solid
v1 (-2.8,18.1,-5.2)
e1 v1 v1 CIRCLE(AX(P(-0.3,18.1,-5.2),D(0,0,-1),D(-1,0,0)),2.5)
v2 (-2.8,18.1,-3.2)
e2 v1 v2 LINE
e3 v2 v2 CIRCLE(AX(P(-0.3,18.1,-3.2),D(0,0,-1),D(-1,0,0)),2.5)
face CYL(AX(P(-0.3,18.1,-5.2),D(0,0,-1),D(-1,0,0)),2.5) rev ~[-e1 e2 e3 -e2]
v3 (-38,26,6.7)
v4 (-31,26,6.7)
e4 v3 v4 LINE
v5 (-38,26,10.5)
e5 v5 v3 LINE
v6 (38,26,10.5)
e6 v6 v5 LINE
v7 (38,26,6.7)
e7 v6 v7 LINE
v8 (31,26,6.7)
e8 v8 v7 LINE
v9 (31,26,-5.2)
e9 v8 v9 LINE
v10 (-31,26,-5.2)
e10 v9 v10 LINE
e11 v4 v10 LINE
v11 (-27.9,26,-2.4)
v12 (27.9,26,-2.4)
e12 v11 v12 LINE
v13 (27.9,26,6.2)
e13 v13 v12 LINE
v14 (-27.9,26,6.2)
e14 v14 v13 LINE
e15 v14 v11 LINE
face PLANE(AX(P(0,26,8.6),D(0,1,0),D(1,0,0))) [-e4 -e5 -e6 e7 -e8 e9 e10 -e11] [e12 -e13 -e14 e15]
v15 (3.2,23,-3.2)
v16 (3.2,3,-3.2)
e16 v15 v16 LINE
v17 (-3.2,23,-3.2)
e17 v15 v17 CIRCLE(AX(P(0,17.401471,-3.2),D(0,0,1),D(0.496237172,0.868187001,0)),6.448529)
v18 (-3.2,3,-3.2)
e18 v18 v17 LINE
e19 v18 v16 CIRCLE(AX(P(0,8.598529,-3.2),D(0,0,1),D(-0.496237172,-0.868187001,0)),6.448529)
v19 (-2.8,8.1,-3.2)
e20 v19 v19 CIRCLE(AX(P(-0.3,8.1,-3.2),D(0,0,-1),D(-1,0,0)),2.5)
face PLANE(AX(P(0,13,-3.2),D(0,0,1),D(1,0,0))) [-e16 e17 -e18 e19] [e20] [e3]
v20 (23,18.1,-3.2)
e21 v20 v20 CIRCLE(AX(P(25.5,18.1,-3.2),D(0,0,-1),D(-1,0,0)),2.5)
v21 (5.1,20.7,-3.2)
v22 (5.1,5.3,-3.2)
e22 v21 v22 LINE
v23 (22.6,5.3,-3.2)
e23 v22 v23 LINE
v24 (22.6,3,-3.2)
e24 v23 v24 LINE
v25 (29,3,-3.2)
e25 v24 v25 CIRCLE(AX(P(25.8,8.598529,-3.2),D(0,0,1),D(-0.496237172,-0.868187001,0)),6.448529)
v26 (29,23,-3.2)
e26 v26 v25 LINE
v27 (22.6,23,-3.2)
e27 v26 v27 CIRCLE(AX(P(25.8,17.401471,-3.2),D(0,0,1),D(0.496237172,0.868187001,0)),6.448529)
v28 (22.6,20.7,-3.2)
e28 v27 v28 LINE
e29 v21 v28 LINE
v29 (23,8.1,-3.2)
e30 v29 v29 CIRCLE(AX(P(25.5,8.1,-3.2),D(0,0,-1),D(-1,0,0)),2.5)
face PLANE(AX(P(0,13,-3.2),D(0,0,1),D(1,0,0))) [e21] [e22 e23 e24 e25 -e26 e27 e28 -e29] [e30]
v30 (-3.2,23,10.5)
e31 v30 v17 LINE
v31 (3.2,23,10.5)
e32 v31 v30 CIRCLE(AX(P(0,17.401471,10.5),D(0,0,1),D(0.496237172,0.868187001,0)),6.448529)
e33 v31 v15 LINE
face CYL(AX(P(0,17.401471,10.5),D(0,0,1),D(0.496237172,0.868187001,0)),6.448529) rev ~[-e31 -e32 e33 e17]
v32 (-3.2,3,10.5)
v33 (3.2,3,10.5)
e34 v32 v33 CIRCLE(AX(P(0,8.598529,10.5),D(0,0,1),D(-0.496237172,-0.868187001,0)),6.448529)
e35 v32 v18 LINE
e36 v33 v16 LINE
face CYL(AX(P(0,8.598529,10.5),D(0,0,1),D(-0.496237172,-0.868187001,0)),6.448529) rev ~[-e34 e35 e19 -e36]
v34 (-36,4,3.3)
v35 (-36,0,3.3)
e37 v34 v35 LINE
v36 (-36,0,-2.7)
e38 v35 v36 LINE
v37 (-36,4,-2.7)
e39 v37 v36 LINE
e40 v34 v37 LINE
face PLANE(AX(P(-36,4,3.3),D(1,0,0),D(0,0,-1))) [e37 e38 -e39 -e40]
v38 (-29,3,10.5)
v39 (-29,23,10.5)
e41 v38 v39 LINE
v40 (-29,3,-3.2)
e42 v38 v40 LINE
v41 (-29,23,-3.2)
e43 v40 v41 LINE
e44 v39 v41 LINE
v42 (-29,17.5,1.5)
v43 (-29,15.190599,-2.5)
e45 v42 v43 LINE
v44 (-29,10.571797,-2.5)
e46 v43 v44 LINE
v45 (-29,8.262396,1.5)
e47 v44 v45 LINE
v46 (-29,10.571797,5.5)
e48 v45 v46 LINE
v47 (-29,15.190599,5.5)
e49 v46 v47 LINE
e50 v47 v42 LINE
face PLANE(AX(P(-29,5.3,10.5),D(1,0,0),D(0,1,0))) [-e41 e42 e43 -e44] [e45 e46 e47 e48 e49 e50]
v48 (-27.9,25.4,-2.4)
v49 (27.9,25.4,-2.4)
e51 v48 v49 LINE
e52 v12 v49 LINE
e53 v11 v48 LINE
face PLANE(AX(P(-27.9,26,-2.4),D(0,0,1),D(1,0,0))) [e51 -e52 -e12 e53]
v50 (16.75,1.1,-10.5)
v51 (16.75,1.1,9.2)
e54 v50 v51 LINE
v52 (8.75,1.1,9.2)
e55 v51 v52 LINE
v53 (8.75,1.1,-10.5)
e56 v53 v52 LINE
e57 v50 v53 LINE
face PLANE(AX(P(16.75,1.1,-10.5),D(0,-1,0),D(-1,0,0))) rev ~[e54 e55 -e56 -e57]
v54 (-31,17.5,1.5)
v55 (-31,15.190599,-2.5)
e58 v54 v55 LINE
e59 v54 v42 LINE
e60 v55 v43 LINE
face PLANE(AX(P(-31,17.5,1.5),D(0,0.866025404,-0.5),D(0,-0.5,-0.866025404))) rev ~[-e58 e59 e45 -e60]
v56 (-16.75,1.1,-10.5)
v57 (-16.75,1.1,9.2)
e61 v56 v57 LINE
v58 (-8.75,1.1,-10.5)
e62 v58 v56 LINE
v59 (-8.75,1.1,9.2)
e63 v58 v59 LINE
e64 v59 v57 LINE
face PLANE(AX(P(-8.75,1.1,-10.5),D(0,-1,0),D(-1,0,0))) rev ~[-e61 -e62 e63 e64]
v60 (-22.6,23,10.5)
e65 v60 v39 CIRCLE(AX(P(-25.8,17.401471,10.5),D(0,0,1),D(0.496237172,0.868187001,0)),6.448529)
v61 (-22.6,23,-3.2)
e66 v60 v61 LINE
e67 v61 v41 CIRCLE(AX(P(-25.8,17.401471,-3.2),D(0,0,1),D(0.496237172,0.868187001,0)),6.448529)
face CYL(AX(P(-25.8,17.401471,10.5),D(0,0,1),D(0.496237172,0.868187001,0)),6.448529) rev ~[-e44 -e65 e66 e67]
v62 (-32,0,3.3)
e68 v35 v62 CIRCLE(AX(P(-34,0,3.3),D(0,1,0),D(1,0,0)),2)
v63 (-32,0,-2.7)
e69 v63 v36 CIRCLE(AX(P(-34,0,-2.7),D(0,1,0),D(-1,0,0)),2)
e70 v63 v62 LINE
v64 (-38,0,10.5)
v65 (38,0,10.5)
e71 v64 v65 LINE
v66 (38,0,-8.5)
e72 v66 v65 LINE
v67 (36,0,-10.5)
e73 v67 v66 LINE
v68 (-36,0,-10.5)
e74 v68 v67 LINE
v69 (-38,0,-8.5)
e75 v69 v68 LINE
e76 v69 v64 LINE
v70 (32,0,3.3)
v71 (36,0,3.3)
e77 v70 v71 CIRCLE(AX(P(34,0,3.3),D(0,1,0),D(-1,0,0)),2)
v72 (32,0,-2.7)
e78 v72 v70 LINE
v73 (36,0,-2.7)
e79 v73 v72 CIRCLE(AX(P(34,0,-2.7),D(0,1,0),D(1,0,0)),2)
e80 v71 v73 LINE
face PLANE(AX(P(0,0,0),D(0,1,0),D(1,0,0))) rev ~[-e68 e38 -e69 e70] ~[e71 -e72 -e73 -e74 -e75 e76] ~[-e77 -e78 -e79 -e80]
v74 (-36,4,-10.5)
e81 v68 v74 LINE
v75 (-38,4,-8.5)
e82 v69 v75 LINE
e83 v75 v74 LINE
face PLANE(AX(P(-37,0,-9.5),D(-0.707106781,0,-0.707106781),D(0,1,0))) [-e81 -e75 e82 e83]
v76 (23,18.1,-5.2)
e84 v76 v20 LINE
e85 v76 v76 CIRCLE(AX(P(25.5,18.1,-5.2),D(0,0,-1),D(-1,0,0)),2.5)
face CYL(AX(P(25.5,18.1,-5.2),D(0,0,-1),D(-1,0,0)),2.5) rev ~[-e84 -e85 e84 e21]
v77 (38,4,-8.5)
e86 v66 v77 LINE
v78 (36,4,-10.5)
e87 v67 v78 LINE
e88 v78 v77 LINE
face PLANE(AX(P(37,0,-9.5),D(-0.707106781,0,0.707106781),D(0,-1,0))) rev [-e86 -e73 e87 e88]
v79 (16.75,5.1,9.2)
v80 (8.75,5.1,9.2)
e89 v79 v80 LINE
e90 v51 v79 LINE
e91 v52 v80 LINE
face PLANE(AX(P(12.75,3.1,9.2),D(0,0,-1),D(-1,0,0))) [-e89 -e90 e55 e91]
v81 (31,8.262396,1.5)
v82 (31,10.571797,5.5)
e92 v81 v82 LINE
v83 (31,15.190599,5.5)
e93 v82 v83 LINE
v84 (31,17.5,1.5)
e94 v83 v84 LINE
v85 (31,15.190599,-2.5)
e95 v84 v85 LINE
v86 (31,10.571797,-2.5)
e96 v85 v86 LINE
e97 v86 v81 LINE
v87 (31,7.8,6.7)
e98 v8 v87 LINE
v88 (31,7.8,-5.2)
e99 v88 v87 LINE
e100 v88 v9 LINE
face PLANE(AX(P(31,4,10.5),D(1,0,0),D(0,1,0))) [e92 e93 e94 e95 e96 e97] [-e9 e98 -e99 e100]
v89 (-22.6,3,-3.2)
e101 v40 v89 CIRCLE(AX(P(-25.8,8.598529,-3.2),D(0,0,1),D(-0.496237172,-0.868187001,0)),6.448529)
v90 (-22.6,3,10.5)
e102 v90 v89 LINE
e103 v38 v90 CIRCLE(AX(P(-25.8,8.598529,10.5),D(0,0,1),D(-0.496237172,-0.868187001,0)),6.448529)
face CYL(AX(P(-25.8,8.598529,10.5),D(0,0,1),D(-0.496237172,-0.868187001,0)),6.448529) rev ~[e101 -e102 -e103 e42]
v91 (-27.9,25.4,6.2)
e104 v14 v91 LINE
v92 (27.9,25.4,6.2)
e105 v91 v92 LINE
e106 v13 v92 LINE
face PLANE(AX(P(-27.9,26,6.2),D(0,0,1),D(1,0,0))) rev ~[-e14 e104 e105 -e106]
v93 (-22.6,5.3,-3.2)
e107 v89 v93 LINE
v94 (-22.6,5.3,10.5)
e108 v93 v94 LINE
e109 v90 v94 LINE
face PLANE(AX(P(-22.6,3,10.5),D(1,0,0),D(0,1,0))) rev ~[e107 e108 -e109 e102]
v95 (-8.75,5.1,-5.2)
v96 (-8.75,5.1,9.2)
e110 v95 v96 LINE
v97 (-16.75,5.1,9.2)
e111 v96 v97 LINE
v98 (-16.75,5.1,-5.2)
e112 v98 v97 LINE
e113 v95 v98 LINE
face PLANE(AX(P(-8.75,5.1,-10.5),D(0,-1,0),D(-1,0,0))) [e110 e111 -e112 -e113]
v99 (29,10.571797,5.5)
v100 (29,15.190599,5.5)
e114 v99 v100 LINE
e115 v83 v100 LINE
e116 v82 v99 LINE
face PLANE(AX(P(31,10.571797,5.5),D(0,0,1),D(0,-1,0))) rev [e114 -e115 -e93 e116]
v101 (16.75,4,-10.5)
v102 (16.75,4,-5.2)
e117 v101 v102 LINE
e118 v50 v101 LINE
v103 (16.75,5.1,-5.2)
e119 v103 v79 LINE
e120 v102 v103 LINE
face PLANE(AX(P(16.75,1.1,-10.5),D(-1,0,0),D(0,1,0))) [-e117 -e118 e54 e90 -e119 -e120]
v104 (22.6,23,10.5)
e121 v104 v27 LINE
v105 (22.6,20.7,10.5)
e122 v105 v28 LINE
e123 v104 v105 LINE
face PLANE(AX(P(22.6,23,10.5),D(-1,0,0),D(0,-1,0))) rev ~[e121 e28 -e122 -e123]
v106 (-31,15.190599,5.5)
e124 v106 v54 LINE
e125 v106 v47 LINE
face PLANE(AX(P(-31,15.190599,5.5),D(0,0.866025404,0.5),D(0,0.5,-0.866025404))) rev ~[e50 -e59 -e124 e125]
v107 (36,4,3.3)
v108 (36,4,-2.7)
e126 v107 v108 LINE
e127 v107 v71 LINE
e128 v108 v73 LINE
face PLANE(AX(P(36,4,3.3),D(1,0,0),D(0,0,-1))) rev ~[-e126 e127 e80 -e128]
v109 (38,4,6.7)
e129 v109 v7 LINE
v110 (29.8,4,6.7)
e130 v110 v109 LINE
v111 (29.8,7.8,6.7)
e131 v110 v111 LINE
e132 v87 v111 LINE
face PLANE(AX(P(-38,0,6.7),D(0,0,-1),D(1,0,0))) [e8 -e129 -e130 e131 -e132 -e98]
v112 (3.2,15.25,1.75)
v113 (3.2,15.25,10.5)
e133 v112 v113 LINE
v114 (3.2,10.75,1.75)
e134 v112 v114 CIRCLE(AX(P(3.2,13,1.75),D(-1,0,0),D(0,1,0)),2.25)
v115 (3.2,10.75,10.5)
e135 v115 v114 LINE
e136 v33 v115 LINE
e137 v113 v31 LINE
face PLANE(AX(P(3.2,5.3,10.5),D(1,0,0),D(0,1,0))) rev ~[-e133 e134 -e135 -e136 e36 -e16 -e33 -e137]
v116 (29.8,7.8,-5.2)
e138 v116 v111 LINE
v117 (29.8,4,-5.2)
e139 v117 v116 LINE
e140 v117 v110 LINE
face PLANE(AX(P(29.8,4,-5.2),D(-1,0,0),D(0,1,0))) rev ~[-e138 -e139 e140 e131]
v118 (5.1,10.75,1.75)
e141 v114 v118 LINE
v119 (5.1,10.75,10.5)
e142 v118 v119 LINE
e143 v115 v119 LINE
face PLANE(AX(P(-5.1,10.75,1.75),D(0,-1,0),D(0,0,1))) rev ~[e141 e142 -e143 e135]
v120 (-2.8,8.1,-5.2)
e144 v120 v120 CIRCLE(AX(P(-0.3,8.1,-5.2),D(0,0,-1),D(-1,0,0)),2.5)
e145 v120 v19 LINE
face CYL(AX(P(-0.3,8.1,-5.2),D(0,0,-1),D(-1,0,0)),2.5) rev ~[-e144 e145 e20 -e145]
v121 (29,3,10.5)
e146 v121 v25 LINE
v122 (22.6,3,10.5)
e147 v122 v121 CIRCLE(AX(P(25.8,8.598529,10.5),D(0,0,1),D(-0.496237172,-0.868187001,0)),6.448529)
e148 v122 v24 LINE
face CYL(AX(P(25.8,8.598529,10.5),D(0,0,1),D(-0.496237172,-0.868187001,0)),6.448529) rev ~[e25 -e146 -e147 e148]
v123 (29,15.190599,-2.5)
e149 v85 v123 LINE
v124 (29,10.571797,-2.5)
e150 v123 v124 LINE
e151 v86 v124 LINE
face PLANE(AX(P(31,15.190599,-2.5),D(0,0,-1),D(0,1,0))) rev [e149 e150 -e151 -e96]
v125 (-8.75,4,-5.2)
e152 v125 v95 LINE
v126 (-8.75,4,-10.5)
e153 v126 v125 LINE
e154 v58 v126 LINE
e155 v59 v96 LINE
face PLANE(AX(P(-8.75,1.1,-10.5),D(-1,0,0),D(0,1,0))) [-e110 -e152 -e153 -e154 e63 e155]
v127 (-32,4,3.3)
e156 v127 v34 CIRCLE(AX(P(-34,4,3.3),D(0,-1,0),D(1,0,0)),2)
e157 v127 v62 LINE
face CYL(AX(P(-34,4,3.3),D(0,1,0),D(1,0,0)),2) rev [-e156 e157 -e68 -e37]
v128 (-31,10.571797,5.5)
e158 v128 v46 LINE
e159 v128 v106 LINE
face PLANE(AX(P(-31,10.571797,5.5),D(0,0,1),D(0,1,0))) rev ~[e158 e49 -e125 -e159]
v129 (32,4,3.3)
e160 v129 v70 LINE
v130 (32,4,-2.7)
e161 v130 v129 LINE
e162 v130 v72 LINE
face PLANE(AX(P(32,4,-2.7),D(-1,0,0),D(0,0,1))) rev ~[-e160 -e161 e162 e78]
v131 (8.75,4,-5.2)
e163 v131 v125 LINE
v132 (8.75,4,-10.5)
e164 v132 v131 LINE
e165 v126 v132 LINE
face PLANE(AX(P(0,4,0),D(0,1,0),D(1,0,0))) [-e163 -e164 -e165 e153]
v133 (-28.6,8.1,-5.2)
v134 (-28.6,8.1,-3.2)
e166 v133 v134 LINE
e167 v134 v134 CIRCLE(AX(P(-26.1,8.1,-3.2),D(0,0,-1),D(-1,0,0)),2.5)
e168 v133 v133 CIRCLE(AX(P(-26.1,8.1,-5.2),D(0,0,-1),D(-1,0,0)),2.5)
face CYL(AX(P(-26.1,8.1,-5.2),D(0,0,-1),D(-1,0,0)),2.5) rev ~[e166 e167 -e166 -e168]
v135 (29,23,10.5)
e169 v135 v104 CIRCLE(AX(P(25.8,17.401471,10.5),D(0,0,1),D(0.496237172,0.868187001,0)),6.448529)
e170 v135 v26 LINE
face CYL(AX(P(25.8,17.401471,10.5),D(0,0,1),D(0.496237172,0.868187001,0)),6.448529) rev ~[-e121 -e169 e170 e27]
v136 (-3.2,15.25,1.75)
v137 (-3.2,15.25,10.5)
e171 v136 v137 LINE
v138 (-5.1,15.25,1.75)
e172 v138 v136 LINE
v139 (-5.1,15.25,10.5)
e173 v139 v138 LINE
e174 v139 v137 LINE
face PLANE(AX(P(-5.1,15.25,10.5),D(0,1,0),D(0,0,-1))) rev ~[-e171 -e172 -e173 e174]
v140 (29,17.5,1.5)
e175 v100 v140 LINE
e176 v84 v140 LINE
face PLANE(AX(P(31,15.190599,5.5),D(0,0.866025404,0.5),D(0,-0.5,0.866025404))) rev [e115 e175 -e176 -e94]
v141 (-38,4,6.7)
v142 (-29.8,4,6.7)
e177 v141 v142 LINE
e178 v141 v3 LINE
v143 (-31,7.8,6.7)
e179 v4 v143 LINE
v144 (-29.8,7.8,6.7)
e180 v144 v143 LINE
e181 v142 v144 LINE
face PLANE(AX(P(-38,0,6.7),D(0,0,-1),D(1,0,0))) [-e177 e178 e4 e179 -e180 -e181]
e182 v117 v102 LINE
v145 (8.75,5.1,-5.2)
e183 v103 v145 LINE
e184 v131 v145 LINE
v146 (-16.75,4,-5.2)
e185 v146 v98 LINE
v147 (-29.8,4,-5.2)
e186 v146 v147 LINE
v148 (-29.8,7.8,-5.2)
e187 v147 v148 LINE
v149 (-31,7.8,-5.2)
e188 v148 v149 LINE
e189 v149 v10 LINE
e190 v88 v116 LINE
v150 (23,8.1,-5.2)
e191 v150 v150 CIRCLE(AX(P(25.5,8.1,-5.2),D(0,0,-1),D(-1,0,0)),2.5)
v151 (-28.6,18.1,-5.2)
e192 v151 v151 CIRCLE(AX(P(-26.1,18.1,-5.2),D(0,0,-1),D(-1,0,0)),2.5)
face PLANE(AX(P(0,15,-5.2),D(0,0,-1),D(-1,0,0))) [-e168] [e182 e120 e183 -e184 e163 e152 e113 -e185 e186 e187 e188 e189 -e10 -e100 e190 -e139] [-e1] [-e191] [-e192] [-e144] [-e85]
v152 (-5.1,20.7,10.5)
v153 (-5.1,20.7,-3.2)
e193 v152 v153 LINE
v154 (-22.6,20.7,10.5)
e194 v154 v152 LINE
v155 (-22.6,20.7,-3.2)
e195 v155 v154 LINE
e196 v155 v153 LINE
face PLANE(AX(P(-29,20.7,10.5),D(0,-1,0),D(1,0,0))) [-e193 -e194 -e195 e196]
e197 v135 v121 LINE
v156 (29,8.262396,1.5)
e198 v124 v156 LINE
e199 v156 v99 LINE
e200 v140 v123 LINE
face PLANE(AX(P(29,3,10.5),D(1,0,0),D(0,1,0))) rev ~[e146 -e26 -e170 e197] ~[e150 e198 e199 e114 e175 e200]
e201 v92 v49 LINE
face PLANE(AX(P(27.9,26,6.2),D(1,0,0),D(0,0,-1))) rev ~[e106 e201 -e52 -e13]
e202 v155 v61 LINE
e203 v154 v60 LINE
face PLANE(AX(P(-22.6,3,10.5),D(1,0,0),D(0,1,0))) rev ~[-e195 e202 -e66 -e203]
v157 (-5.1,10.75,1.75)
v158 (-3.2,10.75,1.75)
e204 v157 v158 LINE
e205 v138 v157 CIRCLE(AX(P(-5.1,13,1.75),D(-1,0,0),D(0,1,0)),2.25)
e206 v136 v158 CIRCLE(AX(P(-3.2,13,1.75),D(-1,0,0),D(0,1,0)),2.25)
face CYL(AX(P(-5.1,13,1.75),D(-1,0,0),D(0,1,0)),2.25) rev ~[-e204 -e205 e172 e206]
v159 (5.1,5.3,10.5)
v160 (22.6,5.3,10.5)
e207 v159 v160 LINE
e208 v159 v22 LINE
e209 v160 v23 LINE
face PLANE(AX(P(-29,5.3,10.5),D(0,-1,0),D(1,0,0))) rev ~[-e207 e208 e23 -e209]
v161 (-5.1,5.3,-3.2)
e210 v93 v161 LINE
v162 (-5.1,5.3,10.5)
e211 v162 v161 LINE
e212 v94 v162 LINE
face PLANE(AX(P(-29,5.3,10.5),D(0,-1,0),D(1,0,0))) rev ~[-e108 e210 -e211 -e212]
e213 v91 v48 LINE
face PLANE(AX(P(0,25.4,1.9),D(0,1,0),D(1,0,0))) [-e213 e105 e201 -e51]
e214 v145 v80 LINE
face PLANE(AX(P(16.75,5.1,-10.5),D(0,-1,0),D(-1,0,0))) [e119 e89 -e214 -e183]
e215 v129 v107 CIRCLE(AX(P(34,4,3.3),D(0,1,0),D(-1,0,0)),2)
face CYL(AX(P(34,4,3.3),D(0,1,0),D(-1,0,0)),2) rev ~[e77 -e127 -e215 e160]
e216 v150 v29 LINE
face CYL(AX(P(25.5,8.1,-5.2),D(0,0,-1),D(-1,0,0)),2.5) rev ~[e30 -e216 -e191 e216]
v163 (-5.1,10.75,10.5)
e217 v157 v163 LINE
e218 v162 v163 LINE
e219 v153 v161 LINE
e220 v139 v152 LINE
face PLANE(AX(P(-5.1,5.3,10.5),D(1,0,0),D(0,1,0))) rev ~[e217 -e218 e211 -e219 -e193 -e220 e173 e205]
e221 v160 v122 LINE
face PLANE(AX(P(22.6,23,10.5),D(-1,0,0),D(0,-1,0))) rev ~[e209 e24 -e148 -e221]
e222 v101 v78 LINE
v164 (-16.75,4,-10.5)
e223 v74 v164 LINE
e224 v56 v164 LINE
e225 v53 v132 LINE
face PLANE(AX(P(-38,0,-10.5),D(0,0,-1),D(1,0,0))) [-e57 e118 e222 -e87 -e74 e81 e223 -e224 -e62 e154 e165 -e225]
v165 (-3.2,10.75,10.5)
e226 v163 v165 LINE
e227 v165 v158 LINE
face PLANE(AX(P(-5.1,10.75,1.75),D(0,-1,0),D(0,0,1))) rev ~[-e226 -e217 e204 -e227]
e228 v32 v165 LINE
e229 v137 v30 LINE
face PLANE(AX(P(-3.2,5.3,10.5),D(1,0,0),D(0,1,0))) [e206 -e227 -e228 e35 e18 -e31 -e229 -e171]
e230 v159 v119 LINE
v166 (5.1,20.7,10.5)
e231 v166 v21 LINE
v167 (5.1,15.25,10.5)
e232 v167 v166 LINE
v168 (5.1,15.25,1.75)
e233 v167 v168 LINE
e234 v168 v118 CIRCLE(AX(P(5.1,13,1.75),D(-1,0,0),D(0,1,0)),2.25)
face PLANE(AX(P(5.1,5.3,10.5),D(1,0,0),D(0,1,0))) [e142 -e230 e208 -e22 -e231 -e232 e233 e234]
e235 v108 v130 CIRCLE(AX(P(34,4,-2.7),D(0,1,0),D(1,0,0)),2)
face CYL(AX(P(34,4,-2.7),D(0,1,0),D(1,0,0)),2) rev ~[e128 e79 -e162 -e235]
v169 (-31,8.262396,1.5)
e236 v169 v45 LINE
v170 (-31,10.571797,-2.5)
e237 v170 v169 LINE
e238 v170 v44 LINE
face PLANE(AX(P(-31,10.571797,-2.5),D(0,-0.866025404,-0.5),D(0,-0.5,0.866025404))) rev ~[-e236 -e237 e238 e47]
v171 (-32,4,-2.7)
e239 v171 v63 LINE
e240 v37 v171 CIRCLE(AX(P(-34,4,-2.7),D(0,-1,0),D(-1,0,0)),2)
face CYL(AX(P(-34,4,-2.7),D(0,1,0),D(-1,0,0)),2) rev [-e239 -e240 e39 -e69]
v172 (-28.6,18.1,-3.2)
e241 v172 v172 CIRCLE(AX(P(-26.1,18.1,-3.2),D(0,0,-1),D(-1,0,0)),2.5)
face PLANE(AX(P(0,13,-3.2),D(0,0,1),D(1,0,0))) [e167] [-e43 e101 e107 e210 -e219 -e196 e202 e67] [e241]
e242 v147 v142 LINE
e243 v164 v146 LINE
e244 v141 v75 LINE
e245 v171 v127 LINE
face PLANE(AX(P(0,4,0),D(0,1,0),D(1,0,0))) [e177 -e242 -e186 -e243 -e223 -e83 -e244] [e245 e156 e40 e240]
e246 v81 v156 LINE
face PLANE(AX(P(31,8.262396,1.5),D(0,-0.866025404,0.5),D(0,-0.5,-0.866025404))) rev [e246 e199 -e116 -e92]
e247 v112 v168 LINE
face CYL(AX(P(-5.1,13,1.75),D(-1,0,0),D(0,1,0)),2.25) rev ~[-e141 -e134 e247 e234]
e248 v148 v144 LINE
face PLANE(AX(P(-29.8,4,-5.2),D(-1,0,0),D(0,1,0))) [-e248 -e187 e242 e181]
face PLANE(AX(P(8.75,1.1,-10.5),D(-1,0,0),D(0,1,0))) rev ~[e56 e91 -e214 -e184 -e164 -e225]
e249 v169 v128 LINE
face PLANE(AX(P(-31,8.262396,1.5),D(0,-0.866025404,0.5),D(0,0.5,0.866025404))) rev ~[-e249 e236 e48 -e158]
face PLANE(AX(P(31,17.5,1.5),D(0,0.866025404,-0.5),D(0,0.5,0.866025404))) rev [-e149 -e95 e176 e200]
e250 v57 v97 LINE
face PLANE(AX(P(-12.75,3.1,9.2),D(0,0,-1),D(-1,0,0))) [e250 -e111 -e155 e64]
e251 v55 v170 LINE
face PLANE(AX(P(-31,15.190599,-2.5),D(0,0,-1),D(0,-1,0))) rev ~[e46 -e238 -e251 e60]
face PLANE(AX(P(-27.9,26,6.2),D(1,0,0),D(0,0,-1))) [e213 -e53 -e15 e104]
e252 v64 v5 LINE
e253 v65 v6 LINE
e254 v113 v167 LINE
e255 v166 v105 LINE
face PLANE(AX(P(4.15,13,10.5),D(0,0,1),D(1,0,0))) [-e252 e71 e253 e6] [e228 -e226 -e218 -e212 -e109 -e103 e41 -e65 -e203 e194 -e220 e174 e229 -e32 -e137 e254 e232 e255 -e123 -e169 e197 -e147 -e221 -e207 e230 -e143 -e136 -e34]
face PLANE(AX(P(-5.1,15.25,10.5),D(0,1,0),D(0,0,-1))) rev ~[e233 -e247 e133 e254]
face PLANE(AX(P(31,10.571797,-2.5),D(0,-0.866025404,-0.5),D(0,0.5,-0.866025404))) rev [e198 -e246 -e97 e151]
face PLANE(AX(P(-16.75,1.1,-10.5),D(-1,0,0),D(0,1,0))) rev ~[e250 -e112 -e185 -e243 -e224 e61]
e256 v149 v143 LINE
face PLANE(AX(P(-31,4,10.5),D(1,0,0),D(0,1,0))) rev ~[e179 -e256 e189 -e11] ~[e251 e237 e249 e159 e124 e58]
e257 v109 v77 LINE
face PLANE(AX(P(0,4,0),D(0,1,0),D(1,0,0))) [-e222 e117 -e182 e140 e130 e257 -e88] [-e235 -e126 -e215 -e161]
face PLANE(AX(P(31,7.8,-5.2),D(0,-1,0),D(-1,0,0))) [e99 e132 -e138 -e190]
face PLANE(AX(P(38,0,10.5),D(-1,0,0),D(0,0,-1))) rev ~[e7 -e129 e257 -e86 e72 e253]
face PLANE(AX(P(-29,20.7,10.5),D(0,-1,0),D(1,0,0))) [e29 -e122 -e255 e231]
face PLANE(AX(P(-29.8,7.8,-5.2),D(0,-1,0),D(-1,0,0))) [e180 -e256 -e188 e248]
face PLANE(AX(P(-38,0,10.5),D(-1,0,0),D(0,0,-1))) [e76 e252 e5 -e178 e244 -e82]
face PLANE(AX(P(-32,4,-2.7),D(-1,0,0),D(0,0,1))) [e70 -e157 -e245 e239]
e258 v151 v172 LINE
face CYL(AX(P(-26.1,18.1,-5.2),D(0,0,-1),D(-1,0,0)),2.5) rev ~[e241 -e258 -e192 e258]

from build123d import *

# Parameters (mm, degrees)
SKETCH1_W           = 76
SKETCH1_H           = 21
BOSS_EXTRUDE1_DEPTH = 4
SKETCH2_W           = 76
SKETCH2_H           = 3.8
BOSS_EXTRUDE2_DEPTH = 26
SKETCH3_W           = 62
SKETCH3_H           = 22
BOSS_EXTRUDE3_DEPTH = 15.7
CHAMFER2_SIZE       = 2
SKETCH4_W           = 55.8
SKETCH4_H           = 8.6
CUT_EXTRUDE1_DEPTH  = 0.6
CUT_EXTRUDE2_DEPTH  = 46.14698218
SKETCH6_W           = 8
SKETCH6_H           = 4
CUT_EXTRUDE3_DEPTH  = 19.7
SKETCH7_W           = 58
SKETCH7_H           = 15.4
CUT_EXTRUDE4_DEPTH  = 13.7
CUT_EXTRUDE5_DEPTH  = 13.7
LPATTERN1_COUNT     = 3
LPATTERN1_PITCH     = 25.8
BOSS_EXTRUDE4_REACH = 52.606
SKETCH9_W           = 1.9
SKETCH9_H           = 15.4
CUT_EXTRUDE6_REACH  = 53.418
CUT_EXTRUDE7_REACH  = 76.48
SKETCH12_W          = 1.2
SKETCH12_H          = 3.8
CUT_EXTRUDE8_DEPTH  = 11.9
CUT_EXTRUDE9_REACH  = 50.647
SKETCH13_R          = 2.5


with BuildPart() as part:
    # Sketch1 → Boss-Extrude1 (new body)
    with BuildSketch(Plane(origin=(0, 0, 0), x_dir=(1, 0, 0), z_dir=(0, 1, 0))):
        Rectangle(SKETCH1_W, SKETCH1_H)
    extrude(amount=BOSS_EXTRUDE1_DEPTH)

    # Sketch2 → Boss-Extrude2 (add)
    with BuildSketch(Plane(origin=(0, 0, 0), x_dir=(1, 0, 0), z_dir=(0, 1, 0))):
        with Locations((0, -8.6)):
            Rectangle(SKETCH2_W, SKETCH2_H)
    extrude(amount=BOSS_EXTRUDE2_DEPTH)

    # Sketch3 → Boss-Extrude3 (add)
    with BuildSketch(Plane(origin=(0, 0, 10.5), x_dir=(-1, 0, 0), z_dir=(0, 0, -1))):
        with Locations((0, 15)):
            Rectangle(SKETCH3_W, SKETCH3_H)
    extrude(amount=BOSS_EXTRUDE3_DEPTH)

    # Chamfer2
    chamfer2_edges = [part.edges().sort_by_distance(p)[0] for p in [
        (-38, 2, -10.5),
        (38, 2, -10.5),
    ]]
    chamfer(chamfer2_edges, length=CHAMFER2_SIZE)

    # Sketch4 → Cut-Extrude1 (cut)
    with BuildSketch(Plane(origin=(0, 26, 0), x_dir=(1, 0, 0), z_dir=(0, 1, 0))):
        with Locations((0, -1.9)):
            Rectangle(SKETCH4_W, SKETCH4_H)
    extrude(amount=-CUT_EXTRUDE1_DEPTH, mode=Mode.SUBTRACT)

    # Sketch5 → Cut-Extrude2 (cut, through all)
    with BuildSketch(Plane(origin=(0, 4, 0), x_dir=(1, 0, 0), z_dir=(0, 1, 0))):
        with BuildLine():
            Line((-32, 2.7), (-32, -3.3))
            ThreePointArc((-32, -3.3), (-34, -5.3), (-36, -3.3))
            Line((-36, -3.3), (-36, 2.7))
            ThreePointArc((-36, 2.7), (-34, 4.7), (-32, 2.7))
        make_face()
        with BuildLine():
            Line((32, 2.7), (32, -3.3))
            ThreePointArc((32, -3.3), (34, -5.3), (36, -3.3))
            Line((36, -3.3), (36, 2.7))
            ThreePointArc((36, 2.7), (34, 4.7), (32, 2.7))
        make_face()
    extrude(amount=-CUT_EXTRUDE2_DEPTH, mode=Mode.SUBTRACT)

    # Sketch6 → Cut-Extrude3 (cut)
    with BuildSketch(Plane(origin=(0, 0, -10.5), x_dir=(-1, 0, 0), z_dir=(0, 0, -1))):
        with Locations((-12.75, 3.1)):
            Rectangle(SKETCH6_W, SKETCH6_H)
        with Locations((12.75, 3.1)):
            Rectangle(SKETCH6_W, SKETCH6_H)
    extrude(amount=-CUT_EXTRUDE3_DEPTH, mode=Mode.SUBTRACT)

    # Sketch7 → Cut-Extrude4 (cut)
    with BuildSketch(Plane.XY.offset(10.5)):
        with Locations((0, 13)):
            Rectangle(SKETCH7_W, SKETCH7_H)
    extrude(amount=-CUT_EXTRUDE4_DEPTH, mode=Mode.SUBTRACT)

    # Sketch8 → Cut-Extrude5 (cut)
    with BuildSketch(Plane.XY.offset(10.5)):
        with BuildLine():
            Line((-29, 23), (-29, 3))
            ThreePointArc((-29, 3), (-25.8, 2.15), (-22.6, 3))
            Line((-22.6, 3), (-22.6, 23))
            ThreePointArc((-22.6, 23), (-25.8, 23.85), (-29, 23))
        make_face()
    cut_extrude5 = extrude(amount=-CUT_EXTRUDE5_DEPTH, mode=Mode.SUBTRACT)

    # LPattern1: Cut-Extrude5 ×3
    with Locations(*[(i * LPATTERN1_PITCH, 0, 0) for i in range(1, LPATTERN1_COUNT)]):
        add(cut_extrude5, mode=Mode.SUBTRACT)

    # Sketch9 → Boss-Extrude4 (add, up to next)
    with BuildSketch(Plane.XY.offset(10.5), mode=Mode.PRIVATE) as boss_extrude4_sk1:
        with Locations((-4.15, 13)):
            Rectangle(SKETCH9_W, SKETCH9_H)
    boss_extrude4_tool1 = extrude(boss_extrude4_sk1.sketch, amount=-BOSS_EXTRUDE4_REACH, mode=Mode.PRIVATE) - part.part
    # Sketch9 → Boss-Extrude4 (add, up to next)
    with BuildSketch(Plane.XY.offset(10.5), mode=Mode.PRIVATE) as boss_extrude4_sk2:
        with Locations((4.15, 13)):
            Rectangle(SKETCH9_W, SKETCH9_H)
    boss_extrude4_tool2 = extrude(boss_extrude4_sk2.sketch, amount=-BOSS_EXTRUDE4_REACH, mode=Mode.PRIVATE) - part.part
    add(boss_extrude4_tool1.solids().sort_by_distance((-4.15, 13, 10.5))[0])
    add(boss_extrude4_tool2.solids().sort_by_distance((4.15, 13, 10.5))[0])

    # Cut-Extrude6: up to this face of the body (flat: up to its plane)
    cut_extrude6_end = Plane(part.part.faces().sort_by_distance((5.1, 13, 3.65))[0])
    # Sketch10 → Cut-Extrude6 (cut, up to the picked face)
    with BuildSketch(Plane.ZY.offset(5.1), mode=Mode.PRIVATE) as cut_extrude6_sk1:
        with BuildLine():
            Line((10.5, 15.25), (1.75, 15.25))
            ThreePointArc((1.75, 15.25), (-0.5, 13), (1.75, 10.75))
            Line((1.75, 10.75), (10.5, 10.75))
            Line((10.5, 10.75), (10.5, 15.25))
        make_face()
    cut_extrude6_tool1 = split(extrude(cut_extrude6_sk1.sketch, amount=-CUT_EXTRUDE6_REACH, mode=Mode.PRIVATE), bisect_by=cut_extrude6_end, keep=Keep.BOTH, mode=Mode.PRIVATE)
    add(cut_extrude6_tool1.solids().sort_by(Axis((-5.1, 13, 5.229437), (1, 0, 0)))[0], mode=Mode.SUBTRACT)

    # Sketch11 → Cut-Extrude7 (cut, up to next)
    with BuildSketch(Plane.ZY.offset(31), mode=Mode.PRIVATE) as cut_extrude7_sk1:
        Polygon((1.5, 17.5), (-2.5, 15.190598923), (-2.5, 10.57179677), (1.5, 8.262395693), (5.5, 10.57179677), (5.5, 15.190598923), align=None)
    cut_extrude7_tool1 = extrude(cut_extrude7_sk1.sketch, amount=-CUT_EXTRUDE7_REACH, mode=Mode.PRIVATE) & part.part
    cut_extrude7 = cut_extrude7_tool1.solids().sort_by_distance((-31, 12.881198, 1.5))[0]
    add(cut_extrude7, mode=Mode.SUBTRACT)

    # Mirror1: Cut-Extrude7 across plane
    add(cut_extrude7.mirror(Plane(origin=(0, 0, 0), x_dir=(0, 0, 1), z_dir=(1, 0, 0))), mode=Mode.SUBTRACT)

    # Sketch12 → Cut-Extrude8 (cut)
    with BuildSketch(Plane(origin=(0, 0, -5.2), x_dir=(-1, 0, 0), z_dir=(0, 0, -1))):
        with Locations((-30.4, 5.9)):
            Rectangle(SKETCH12_W, SKETCH12_H)
        with Locations((30.4, 5.9)):
            Rectangle(SKETCH12_W, SKETCH12_H)
    extrude(amount=-CUT_EXTRUDE8_DEPTH, mode=Mode.SUBTRACT)

    # Sketch13 → Cut-Extrude9 (cut, up to next)
    with BuildSketch(Plane(origin=(0, 0, -5.2), x_dir=(-1, 0, 0), z_dir=(0, 0, -1)), mode=Mode.PRIVATE) as cut_extrude9_sk1:
        with Locations((-25.5, 18.1)):
            Circle(SKETCH13_R)
    cut_extrude9_tool1 = extrude(cut_extrude9_sk1.sketch, amount=-CUT_EXTRUDE9_REACH, mode=Mode.PRIVATE) & part.part
    # Sketch13 → Cut-Extrude9 (cut, up to next)
    with BuildSketch(Plane(origin=(0, 0, -5.2), x_dir=(-1, 0, 0), z_dir=(0, 0, -1)), mode=Mode.PRIVATE) as cut_extrude9_sk2:
        with Locations((0.3, 18.1)):
            Circle(SKETCH13_R)
    cut_extrude9_tool2 = extrude(cut_extrude9_sk2.sketch, amount=-CUT_EXTRUDE9_REACH, mode=Mode.PRIVATE) & part.part
    # Sketch13 → Cut-Extrude9 (cut, up to next)
    with BuildSketch(Plane(origin=(0, 0, -5.2), x_dir=(-1, 0, 0), z_dir=(0, 0, -1)), mode=Mode.PRIVATE) as cut_extrude9_sk3:
        with Locations((26.1, 18.1)):
            Circle(SKETCH13_R)
    cut_extrude9_tool3 = extrude(cut_extrude9_sk3.sketch, amount=-CUT_EXTRUDE9_REACH, mode=Mode.PRIVATE) & part.part
    # Sketch13 → Cut-Extrude9 (cut, up to next)
    with BuildSketch(Plane(origin=(0, 0, -5.2), x_dir=(-1, 0, 0), z_dir=(0, 0, -1)), mode=Mode.PRIVATE) as cut_extrude9_sk4:
        with Locations((0.3, 8.1)):
            Circle(SKETCH13_R)
    cut_extrude9_tool4 = extrude(cut_extrude9_sk4.sketch, amount=-CUT_EXTRUDE9_REACH, mode=Mode.PRIVATE) & part.part
    # Sketch13 → Cut-Extrude9 (cut, up to next)
    with BuildSketch(Plane(origin=(0, 0, -5.2), x_dir=(-1, 0, 0), z_dir=(0, 0, -1)), mode=Mode.PRIVATE) as cut_extrude9_sk5:
        with Locations((26.1, 8.1)):
            Circle(SKETCH13_R)
    cut_extrude9_tool5 = extrude(cut_extrude9_sk5.sketch, amount=-CUT_EXTRUDE9_REACH, mode=Mode.PRIVATE) & part.part
    # Sketch13 → Cut-Extrude9 (cut, up to next)
    with BuildSketch(Plane(origin=(0, 0, -5.2), x_dir=(-1, 0, 0), z_dir=(0, 0, -1)), mode=Mode.PRIVATE) as cut_extrude9_sk6:
        with Locations((-25.5, 8.1)):
            Circle(SKETCH13_R)
    cut_extrude9_tool6 = extrude(cut_extrude9_sk6.sketch, amount=-CUT_EXTRUDE9_REACH, mode=Mode.PRIVATE) & part.part
    add(cut_extrude9_tool1.solids().sort_by_distance((25.5, 18.1, -5.2))[0], mode=Mode.SUBTRACT)
    add(cut_extrude9_tool2.solids().sort_by_distance((-0.3, 18.1, -5.2))[0], mode=Mode.SUBTRACT)
    add(cut_extrude9_tool3.solids().sort_by_distance((-26.1, 18.1, -5.2))[0], mode=Mode.SUBTRACT)
    add(cut_extrude9_tool4.solids().sort_by_distance((-0.3, 8.1, -5.2))[0], mode=Mode.SUBTRACT)
    add(cut_extrude9_tool5.solids().sort_by_distance((-26.1, 8.1, -5.2))[0], mode=Mode.SUBTRACT)
    add(cut_extrude9_tool6.solids().sort_by_distance((25.5, 8.1, -5.2))[0], mode=Mode.SUBTRACT)


solid = part.part
